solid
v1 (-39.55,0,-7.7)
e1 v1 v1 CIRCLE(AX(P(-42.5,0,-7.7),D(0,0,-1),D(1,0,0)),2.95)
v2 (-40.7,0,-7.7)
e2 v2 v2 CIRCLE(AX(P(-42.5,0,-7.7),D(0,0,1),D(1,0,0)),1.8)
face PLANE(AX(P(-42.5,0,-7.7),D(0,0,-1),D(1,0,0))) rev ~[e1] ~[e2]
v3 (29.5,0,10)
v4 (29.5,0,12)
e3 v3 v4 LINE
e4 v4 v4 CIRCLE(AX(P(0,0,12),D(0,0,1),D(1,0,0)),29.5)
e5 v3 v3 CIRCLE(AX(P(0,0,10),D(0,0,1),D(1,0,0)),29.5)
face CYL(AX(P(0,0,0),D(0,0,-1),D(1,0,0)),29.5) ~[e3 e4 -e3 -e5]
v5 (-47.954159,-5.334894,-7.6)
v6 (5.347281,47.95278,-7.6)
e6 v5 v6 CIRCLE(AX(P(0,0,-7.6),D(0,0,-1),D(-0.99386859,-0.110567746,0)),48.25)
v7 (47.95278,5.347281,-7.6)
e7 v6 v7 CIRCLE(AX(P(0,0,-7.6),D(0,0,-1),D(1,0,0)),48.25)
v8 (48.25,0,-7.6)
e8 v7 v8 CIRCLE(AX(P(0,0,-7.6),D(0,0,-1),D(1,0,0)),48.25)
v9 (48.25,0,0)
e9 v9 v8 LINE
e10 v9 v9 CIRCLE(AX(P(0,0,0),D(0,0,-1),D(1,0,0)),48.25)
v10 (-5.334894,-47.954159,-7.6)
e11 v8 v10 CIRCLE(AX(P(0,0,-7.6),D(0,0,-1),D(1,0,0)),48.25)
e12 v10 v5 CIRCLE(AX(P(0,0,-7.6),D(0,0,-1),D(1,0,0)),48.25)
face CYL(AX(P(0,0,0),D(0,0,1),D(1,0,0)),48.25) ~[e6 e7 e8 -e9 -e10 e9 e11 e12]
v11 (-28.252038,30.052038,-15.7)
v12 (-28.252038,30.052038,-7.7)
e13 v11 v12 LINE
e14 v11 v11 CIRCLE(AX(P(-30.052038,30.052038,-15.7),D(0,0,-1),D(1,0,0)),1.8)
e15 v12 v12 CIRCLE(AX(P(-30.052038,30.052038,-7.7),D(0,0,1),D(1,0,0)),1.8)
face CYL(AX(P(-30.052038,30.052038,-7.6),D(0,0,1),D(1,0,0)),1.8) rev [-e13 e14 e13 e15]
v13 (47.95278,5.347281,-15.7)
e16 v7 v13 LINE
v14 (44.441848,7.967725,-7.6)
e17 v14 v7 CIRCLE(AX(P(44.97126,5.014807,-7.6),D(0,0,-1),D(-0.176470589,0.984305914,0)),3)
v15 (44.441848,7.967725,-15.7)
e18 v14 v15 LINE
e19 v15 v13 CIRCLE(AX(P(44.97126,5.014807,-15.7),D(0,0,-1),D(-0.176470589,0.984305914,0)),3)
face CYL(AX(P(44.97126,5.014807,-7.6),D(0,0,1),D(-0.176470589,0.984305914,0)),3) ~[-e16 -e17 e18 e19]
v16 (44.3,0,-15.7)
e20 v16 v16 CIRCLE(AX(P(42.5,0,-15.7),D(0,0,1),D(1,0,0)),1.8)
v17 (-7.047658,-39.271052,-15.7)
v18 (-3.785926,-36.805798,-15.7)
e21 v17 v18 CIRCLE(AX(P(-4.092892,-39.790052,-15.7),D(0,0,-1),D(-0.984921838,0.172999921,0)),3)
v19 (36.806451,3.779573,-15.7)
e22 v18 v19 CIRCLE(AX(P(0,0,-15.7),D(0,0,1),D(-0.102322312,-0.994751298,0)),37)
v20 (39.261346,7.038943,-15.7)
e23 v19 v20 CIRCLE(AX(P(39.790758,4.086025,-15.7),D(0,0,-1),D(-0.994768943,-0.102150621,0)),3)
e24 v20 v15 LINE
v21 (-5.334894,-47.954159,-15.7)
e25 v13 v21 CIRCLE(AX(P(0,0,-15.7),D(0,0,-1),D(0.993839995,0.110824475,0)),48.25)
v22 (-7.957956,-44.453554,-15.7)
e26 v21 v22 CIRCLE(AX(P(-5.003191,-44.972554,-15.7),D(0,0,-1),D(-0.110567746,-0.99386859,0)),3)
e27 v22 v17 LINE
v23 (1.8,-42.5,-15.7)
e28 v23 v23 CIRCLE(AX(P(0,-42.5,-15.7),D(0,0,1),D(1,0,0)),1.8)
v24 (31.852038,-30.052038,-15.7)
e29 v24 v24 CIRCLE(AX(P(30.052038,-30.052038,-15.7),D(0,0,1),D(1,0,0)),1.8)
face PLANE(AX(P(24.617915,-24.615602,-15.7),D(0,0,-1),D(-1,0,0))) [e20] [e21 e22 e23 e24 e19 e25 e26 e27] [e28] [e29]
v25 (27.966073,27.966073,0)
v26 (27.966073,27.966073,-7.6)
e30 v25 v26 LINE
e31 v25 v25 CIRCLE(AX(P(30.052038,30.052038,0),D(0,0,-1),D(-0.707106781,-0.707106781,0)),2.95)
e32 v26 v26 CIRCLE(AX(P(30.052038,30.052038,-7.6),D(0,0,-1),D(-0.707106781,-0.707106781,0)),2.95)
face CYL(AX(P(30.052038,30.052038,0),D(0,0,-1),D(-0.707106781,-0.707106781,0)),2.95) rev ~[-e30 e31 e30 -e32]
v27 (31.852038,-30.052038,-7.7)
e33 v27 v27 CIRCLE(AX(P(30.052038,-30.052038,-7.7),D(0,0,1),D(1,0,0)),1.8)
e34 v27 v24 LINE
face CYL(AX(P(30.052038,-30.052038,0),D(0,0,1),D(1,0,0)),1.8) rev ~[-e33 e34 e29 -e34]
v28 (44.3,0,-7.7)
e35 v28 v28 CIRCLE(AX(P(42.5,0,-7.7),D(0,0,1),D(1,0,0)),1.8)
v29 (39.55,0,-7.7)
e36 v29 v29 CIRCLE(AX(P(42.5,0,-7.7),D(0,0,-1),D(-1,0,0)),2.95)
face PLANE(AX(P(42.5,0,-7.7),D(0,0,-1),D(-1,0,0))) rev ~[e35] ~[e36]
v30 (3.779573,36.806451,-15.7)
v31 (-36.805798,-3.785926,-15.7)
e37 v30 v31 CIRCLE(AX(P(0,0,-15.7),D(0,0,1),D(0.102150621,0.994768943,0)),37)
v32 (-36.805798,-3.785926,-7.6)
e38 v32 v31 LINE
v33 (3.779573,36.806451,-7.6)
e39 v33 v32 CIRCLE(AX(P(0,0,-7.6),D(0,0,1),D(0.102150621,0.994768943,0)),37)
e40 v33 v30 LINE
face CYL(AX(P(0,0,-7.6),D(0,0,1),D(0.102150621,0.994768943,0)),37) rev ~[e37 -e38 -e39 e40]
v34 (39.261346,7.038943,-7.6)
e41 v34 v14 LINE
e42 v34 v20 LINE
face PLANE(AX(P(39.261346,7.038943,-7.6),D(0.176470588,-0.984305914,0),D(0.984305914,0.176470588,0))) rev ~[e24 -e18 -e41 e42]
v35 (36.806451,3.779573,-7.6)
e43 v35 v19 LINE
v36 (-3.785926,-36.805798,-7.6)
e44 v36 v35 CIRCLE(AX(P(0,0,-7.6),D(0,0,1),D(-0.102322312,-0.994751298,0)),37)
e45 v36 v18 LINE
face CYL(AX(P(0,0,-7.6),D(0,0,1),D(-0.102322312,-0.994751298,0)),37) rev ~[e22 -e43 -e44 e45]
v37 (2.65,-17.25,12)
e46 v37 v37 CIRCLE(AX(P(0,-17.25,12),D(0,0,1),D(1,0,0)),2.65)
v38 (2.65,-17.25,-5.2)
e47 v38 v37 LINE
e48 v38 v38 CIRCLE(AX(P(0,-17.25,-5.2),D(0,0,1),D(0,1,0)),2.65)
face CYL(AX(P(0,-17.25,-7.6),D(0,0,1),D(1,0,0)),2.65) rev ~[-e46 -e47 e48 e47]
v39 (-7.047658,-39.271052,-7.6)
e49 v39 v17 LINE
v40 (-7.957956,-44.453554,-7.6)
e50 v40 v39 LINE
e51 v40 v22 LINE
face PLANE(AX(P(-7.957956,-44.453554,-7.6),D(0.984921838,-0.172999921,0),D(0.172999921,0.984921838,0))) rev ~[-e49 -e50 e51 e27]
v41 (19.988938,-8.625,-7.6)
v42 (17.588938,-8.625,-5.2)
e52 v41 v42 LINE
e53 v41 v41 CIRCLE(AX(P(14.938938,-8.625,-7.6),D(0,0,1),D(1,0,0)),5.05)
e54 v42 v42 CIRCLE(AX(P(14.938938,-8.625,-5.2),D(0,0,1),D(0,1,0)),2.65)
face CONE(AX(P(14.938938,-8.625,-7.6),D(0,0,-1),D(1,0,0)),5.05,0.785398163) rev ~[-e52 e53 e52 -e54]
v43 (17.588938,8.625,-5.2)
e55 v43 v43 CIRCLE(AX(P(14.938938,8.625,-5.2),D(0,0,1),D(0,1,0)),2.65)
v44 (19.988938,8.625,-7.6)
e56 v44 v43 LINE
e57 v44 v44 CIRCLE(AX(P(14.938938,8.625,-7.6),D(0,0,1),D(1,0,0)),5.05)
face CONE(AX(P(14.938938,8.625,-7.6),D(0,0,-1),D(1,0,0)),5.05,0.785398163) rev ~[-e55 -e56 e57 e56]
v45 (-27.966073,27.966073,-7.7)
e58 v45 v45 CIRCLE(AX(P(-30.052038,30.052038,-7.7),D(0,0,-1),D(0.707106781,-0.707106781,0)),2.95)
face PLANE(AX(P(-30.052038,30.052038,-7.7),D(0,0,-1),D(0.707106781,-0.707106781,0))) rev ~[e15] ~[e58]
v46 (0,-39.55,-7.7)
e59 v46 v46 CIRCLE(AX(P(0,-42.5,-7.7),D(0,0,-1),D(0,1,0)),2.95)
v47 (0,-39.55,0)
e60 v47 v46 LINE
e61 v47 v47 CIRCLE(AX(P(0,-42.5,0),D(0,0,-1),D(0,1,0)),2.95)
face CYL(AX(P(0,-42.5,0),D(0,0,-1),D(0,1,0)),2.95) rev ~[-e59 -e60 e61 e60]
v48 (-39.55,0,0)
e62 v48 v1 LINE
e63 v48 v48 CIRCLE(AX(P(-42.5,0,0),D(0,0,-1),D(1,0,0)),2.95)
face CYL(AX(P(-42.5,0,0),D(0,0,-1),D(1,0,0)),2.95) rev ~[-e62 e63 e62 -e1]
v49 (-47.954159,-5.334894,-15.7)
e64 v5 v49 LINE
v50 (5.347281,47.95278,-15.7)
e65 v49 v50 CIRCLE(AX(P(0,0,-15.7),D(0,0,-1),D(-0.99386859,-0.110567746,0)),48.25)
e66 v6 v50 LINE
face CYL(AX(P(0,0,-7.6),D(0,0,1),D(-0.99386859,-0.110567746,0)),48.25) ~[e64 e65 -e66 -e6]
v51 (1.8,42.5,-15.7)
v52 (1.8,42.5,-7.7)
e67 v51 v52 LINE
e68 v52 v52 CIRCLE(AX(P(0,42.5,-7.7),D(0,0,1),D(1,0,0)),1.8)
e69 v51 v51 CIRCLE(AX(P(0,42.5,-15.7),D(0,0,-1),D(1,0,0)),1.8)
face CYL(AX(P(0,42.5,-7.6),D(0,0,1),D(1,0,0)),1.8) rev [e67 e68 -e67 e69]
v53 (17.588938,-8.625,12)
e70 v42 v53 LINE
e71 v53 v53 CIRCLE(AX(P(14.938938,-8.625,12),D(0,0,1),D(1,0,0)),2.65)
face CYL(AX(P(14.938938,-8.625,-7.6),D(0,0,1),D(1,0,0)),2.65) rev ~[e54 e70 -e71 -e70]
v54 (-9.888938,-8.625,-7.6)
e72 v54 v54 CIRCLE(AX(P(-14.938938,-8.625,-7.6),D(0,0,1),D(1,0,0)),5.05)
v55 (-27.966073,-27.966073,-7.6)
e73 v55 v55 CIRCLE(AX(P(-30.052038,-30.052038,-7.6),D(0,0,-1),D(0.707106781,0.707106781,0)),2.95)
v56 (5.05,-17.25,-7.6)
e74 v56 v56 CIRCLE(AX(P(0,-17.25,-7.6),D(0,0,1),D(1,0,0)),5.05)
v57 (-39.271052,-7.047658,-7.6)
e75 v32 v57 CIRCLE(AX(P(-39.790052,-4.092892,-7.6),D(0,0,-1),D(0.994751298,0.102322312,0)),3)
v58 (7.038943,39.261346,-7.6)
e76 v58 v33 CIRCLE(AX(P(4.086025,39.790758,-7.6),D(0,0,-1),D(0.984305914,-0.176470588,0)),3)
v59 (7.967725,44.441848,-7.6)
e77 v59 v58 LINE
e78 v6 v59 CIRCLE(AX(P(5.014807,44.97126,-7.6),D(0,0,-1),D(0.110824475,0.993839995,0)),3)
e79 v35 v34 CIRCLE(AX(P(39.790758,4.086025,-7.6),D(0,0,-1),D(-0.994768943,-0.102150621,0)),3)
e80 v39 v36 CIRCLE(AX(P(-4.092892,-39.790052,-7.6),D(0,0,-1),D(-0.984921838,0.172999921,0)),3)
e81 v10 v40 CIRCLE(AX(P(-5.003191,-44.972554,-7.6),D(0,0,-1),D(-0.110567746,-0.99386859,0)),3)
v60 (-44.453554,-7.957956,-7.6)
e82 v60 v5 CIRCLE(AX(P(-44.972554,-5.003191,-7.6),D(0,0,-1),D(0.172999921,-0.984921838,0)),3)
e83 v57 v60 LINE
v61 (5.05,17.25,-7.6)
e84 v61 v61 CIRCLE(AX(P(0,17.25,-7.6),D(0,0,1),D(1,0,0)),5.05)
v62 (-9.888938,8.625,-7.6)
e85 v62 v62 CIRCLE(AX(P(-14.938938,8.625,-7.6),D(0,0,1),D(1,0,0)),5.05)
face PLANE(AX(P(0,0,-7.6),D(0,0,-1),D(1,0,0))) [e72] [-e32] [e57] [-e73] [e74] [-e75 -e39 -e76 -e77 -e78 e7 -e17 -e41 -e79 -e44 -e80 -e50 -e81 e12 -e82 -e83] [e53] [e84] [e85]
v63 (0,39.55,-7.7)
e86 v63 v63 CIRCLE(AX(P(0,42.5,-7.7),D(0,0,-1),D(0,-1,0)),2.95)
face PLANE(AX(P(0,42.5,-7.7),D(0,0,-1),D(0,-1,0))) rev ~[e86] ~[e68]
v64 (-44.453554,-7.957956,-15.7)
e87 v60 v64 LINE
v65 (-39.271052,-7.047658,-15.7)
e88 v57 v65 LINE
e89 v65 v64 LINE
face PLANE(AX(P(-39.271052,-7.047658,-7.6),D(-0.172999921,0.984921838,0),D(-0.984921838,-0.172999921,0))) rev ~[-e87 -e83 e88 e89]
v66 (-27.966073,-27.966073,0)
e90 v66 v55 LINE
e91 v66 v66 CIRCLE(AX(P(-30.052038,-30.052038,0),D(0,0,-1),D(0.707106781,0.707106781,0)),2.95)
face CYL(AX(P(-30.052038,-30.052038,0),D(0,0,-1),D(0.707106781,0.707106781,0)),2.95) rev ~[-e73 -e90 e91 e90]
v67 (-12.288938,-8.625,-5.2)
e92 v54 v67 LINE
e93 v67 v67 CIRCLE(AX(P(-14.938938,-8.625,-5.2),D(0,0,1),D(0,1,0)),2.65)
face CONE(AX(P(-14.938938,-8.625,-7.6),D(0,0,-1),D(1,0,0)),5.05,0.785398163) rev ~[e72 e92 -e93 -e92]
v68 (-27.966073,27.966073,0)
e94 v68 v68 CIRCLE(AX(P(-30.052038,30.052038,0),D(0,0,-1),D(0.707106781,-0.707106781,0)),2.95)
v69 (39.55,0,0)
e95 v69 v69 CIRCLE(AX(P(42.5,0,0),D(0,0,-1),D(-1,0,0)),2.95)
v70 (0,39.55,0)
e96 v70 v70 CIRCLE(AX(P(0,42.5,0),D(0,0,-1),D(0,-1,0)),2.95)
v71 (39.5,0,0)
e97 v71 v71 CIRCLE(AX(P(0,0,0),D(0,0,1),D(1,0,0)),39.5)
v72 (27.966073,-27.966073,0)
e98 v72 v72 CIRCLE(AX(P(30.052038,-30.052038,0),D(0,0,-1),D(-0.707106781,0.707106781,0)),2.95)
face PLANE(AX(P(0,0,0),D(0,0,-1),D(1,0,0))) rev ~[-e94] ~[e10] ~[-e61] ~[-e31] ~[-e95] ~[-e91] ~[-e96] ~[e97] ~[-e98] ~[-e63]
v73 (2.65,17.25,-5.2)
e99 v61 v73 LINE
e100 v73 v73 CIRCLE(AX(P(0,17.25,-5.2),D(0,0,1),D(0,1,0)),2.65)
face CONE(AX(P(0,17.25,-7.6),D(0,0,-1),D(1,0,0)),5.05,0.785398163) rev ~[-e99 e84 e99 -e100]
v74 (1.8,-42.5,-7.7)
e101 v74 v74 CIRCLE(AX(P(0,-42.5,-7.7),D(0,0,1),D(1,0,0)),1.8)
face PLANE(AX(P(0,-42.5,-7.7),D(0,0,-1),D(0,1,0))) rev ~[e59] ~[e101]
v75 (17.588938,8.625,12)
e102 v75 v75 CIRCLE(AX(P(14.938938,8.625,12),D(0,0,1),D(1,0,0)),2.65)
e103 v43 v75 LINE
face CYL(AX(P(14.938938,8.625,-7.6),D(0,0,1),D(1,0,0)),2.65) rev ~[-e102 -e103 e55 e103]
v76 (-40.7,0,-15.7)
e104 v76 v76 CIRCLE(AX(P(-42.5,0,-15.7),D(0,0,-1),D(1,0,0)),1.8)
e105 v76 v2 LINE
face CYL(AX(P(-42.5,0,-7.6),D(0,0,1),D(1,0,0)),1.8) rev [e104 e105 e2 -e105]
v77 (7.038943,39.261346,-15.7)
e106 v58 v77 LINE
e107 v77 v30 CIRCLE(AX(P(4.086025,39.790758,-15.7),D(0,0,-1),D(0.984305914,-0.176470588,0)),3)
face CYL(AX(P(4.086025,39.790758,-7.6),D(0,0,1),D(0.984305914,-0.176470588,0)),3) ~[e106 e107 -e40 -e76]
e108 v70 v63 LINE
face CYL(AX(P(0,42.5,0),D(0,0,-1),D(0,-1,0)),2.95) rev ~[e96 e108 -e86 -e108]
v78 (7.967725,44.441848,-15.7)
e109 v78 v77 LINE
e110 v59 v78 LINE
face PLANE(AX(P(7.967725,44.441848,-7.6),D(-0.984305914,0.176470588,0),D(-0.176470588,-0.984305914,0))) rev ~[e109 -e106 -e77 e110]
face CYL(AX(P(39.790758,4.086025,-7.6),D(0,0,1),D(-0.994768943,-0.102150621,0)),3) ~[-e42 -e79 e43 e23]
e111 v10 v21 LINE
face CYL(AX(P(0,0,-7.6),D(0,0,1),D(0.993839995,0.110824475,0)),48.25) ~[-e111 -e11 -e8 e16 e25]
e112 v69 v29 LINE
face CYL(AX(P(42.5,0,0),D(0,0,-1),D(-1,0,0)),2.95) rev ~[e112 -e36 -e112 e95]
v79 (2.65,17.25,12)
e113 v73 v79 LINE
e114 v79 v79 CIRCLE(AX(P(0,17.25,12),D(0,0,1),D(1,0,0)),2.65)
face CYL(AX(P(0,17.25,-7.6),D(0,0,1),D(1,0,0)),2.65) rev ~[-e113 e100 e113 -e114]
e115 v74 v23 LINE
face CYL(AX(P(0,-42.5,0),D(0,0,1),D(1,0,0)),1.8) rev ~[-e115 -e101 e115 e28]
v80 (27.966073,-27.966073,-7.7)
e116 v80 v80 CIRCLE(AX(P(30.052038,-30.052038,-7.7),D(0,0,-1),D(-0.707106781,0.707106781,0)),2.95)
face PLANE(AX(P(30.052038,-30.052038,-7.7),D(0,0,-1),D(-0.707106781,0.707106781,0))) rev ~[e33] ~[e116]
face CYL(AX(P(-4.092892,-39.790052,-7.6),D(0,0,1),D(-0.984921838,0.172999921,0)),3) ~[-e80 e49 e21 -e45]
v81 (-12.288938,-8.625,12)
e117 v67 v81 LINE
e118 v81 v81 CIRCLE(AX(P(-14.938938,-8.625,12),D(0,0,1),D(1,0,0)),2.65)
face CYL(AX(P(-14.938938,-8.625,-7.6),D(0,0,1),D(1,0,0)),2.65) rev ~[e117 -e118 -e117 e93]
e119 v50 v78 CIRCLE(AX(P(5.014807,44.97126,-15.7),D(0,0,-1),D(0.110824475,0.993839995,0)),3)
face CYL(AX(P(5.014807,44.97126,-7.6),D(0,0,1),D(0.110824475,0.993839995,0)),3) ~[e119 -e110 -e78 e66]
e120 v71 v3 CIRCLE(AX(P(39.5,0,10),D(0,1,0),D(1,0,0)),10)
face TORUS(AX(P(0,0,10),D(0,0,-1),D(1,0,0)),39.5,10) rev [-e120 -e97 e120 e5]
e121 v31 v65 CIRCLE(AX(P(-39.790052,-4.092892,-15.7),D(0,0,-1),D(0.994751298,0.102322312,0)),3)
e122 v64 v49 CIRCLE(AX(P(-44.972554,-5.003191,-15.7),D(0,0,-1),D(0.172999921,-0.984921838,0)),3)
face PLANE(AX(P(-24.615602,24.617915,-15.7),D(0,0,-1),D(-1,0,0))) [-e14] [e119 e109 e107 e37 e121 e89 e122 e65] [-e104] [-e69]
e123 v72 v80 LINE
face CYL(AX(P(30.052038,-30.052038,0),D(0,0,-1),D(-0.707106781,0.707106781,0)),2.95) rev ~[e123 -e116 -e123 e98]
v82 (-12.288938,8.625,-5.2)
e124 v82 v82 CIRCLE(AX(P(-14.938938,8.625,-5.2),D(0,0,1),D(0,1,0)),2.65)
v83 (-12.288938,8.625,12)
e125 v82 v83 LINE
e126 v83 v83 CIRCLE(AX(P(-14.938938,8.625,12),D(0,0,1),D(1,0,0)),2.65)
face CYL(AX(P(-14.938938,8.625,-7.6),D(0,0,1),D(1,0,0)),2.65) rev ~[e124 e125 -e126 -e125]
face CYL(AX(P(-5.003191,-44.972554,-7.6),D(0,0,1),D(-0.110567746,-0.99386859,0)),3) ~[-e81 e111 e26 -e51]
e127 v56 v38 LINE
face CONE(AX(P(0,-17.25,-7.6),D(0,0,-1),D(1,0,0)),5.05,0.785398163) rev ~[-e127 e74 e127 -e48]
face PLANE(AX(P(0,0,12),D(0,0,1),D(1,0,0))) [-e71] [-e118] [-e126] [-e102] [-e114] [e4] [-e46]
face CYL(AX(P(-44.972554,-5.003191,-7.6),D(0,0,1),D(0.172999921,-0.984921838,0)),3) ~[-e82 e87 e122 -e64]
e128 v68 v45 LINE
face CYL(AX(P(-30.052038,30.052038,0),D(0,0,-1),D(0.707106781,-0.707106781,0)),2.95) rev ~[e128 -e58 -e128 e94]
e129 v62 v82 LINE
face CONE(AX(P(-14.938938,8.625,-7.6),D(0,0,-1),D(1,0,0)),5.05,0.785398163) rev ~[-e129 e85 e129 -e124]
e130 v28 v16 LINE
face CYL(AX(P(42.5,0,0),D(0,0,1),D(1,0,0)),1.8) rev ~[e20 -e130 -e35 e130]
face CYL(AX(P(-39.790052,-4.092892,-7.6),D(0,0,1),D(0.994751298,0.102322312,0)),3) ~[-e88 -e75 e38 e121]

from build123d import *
from build123d.topology import SkipClean

# Parameters (mm, degrees)
SKETCH_1_R                     = 29.5
SKETCH_1_R_2                   = 1.65
EXTRUDE_1_DEPTH                = 12
SKETCH_3_R                     = 48.25
SKETCH_3_R_2                   = 27
SKETCH_3_R_3                   = 1.8
EXTRUDE_2_DEPTH                = 7.6
EXTRUDE_START                  = 7.6
SKETCH_4_R                     = 31.688827667
SKETCH_4_R_2                   = 1.65
EXTRUDE_3_DEPTH                = 7.6
HOLE_WIZARD_M4_5_1_D           = 5.3
HOLE_WIZARD_M4_5_1_DEPTH       = 100
HOLE_WIZARD_M4_5_1_CSINK_D     = 10.1
HOLE_WIZARD_M4_5_1_CSINK_ANGLE = 90
HOLE_WIZARD_M4_5_1_TIP         = 1.59228064
SKETCH_7_R                     = 1.8
EXTRUDE_4_DEPTH                = 8.1
SKETCH_10_R                    = 1.8
CUT_EXTRUDE_1_DEPTH            = 82
FILLET_1_R                     = 10
PATTERN_CIRCULAR_1_COUNT       = 8


with BuildPart() as part:
    # 草图1 → 凸台-拉伸1 (new body)
    with BuildSketch(Plane.XY):
        Circle(SKETCH_1_R)
        with Locations((0, 17.25)):
            Circle(SKETCH_1_R_2, mode=Mode.SUBTRACT)
        with Locations((14.938938215, 8.625)):
            Circle(SKETCH_1_R_2, mode=Mode.SUBTRACT)
        with Locations((14.938938215, -8.625)):
            Circle(SKETCH_1_R_2, mode=Mode.SUBTRACT)
        with Locations((0, -17.25)):
            Circle(SKETCH_1_R_2, mode=Mode.SUBTRACT)
        with Locations((-14.938938215, -8.625)):
            Circle(SKETCH_1_R_2, mode=Mode.SUBTRACT)
        with Locations((-14.938938215, 8.625)):
            Circle(SKETCH_1_R_2, mode=Mode.SUBTRACT)
    extrude(amount=EXTRUDE_1_DEPTH)



with BuildPart() as body_2:
    # 草图3 → 凸台-拉伸2 (new body)
    with BuildSketch(Plane(origin=(0, 0, 0), x_dir=(-1, 0, 0), z_dir=(0, 0, -1))):
        with Locations(Location((0, 0, 0), (0, 0, 180))):
            Circle(SKETCH_3_R)
        with Locations(Location((0, 0, 0), (0, 0, 180))):
            Circle(SKETCH_3_R_2, mode=Mode.SUBTRACT)
        with Locations(Location((30.0520382, 30.0520382, 0), (0, 0, 180))):
            Circle(SKETCH_3_R_3, mode=Mode.SUBTRACT)
        with Locations(Location((42.5, 0, 0), (0, 0, 180))):
            Circle(SKETCH_3_R_3, mode=Mode.SUBTRACT)
        with Locations(Location((30.0520382, -30.0520382, 0), (0, 0, 180))):
            Circle(SKETCH_3_R_3, mode=Mode.SUBTRACT)
        with Locations(Location((0, -42.5, 0), (0, 0, 180))):
            Circle(SKETCH_3_R_3, mode=Mode.SUBTRACT)
        with Locations(Location((0, 42.5, 0), (0, 0, 180))):
            Circle(SKETCH_3_R_3, mode=Mode.SUBTRACT)
        with Locations(Location((-30.0520382, -30.0520382, 0), (0, 0, 180))):
            Circle(SKETCH_3_R_3, mode=Mode.SUBTRACT)
        with Locations(Location((-42.5, 0, 0), (0, 0, 180))):
            Circle(SKETCH_3_R_3, mode=Mode.SUBTRACT)
        with Locations(Location((-30.0520382, 30.0520382, 0), (0, 0, 180))):
            Circle(SKETCH_3_R_3, mode=Mode.SUBTRACT)
    extrude(amount=EXTRUDE_2_DEPTH)


with BuildPart() as part_1:
    with SkipClean():  # the faces are left unmerged after this step: merging them gives an invalid solid
        add(part.part)

        add(body_2.part)  # 凸台-拉伸3 merges body 2
        # 草图4 → 凸台-拉伸3 (add)
        with BuildSketch(Plane(origin=(0, 0, 0), x_dir=(-1, 0, 0), z_dir=(0, 0, -1)).offset(EXTRUDE_START)):
            Circle(SKETCH_4_R)
            with Locations((0, 17.25)):
                Circle(SKETCH_4_R_2, mode=Mode.SUBTRACT)
            with Locations((14.938938215, 8.625)):
                Circle(SKETCH_4_R_2, mode=Mode.SUBTRACT)
            with Locations((14.938938215, -8.625)):
                Circle(SKETCH_4_R_2, mode=Mode.SUBTRACT)
            with Locations((0, -17.25)):
                Circle(SKETCH_4_R_2, mode=Mode.SUBTRACT)
            with Locations((-14.938938215, -8.625)):
                Circle(SKETCH_4_R_2, mode=Mode.SUBTRACT)
            with Locations((-14.938938215, 8.625)):
                Circle(SKETCH_4_R_2, mode=Mode.SUBTRACT)
        extrude(amount=-EXTRUDE_3_DEPTH)

    # M4.5 开槽半沉头木螺钉的锥形沉头孔1
    with Locations(Plane(origin=(0, 0, -7.6), x_dir=(-1, 0, 0), z_dir=(0, 0, -1))):
        with Locations((0, 17.25), (-14.938938215, 8.625), (-14.938938215, -8.625), (0, -17.25), (14.938938215, -8.625), (14.938938215, 8.625)):
            CounterSinkHole(HOLE_WIZARD_M4_5_1_D / 2, HOLE_WIZARD_M4_5_1_CSINK_D / 2, depth=HOLE_WIZARD_M4_5_1_DEPTH, counter_sink_angle=HOLE_WIZARD_M4_5_1_CSINK_ANGLE)
            with Locations((0, 0, -(HOLE_WIZARD_M4_5_1_DEPTH + HOLE_WIZARD_M4_5_1_TIP / 2))):  # 118° drill point
                Cone(0, HOLE_WIZARD_M4_5_1_D / 2, HOLE_WIZARD_M4_5_1_TIP, mode=Mode.SUBTRACT)

    # 草图7 → 凸台-拉伸4 (add)
    # profile 1 of 2: a face of its own
    with BuildSketch(Plane(origin=(0, 0, -7.6), x_dir=(-1, 0, 0), z_dir=(0, 0, -1))):
        with BuildLine():
            Line((-7.967725229, 44.441848011), (-7.038942591, 39.261345968))
            ThreePointArc((-7.038942591, 39.261345968), (-5.890899598, 37.39442154), (-3.779572987, 36.806450902))
            ThreePointArc((-3.779572987, 36.806450902), (26.165208609, 26.160693004), (36.805798017, -3.785925554))
            ThreePointArc((36.805798017, -3.785925554), (37.396744327, -5.901781323), (39.271052148, -7.047658005))
            Line((39.271052148, -7.047658005), (44.45355392, -7.957956022))
            ThreePointArc((44.45355392, -7.957956022), (46.771503658, -7.403977667), (47.954159452, -5.334893745))
            ThreePointArc((47.954159452, -5.334893745), (34.113495301, 34.122308515), (-5.347280913, 47.952779761))
            ThreePointArc((-5.347280913, 47.952779761), (-7.418993258, 46.765665189), (-7.967725229, 44.441848011))
        make_face()
        with Locations(Location((42.5, 0, 0), (0, 0, 180))):
            Circle(SKETCH_7_R, mode=Mode.SUBTRACT)
        with Locations(Location((0, 42.5, 0), (0, 0, 180))):
            Circle(SKETCH_7_R, mode=Mode.SUBTRACT)
        with Locations(Location((30.0520382, 30.0520382, 0), (0, 0, 180))):
            Circle(SKETCH_7_R, mode=Mode.SUBTRACT)
    # profile 2 of 2: a face of its own
    with BuildSketch(Plane(origin=(0, 0, -7.6), x_dir=(-1, 0, 0), z_dir=(0, 0, -1))):
        with BuildLine():
            Line((7.957956022, -44.45355392), (7.047658005, -39.271052148))
            ThreePointArc((7.047658005, -39.271052148), (5.901781323, -37.396744327), (3.785925554, -36.805798017))
            ThreePointArc((3.785925554, -36.805798017), (-26.160693004, -26.165208609), (-36.806450902, 3.779572987))
            ThreePointArc((-36.806450902, 3.779572987), (-37.39442154, 5.890899598), (-39.261345968, 7.038942591))
            Line((-39.261345968, 7.038942591), (-44.441848011, 7.967725229))
            ThreePointArc((-44.441848011, 7.967725229), (-46.765665189, 7.418993258), (-47.952779761, 5.347280913))
            ThreePointArc((-47.952779761, 5.347280913), (-34.122308515, -34.113495301), (5.334893745, -47.954159452))
            ThreePointArc((5.334893745, -47.954159452), (7.403977667, -46.771503658), (7.957956022, -44.45355392))
        make_face()
    extrude(amount=EXTRUDE_4_DEPTH)

    # 草图8 → 切除-旋转1 (revolve, cut)
    with BuildSketch(Plane(origin=(-20.476470588, -21.235916562, 0), x_dir=(0, 0, 1), z_dir=(-0.6941176470588265, -0.7198615783895669, 0)), mode=Mode.PRIVATE) as cut_revolve_1_sk:
        Polygon((-7.7, 30.594117082), (0, 30.594117082), (0, 32.394117082), (0, 33.544117082), (-7.7, 33.544117082), align=None)
    cut_revolve_1 = revolve(cut_revolve_1_sk.sketch.rotate(Axis((-42.5, 0, 0), (0, 0, -1)), 136.043053276), axis=Axis((-42.5, 0, 0), (0, 0, -1)), mode=Mode.SUBTRACT)

    # 草图10 → 切除-拉伸1 (cut)
    with BuildSketch(Plane.XY):
        with Locations((-30.0520382, 30.0520382)):
            Circle(SKETCH_10_R)
        with Locations((42.5, 0)):
            Circle(SKETCH_10_R)
        with Locations((30.0520382, -30.0520382)):
            Circle(SKETCH_10_R)
        with Locations((0, -42.5)):
            Circle(SKETCH_10_R)
        with Locations((30.0520382, 30.0520382)):
            Circle(SKETCH_10_R)
        with Locations((0, 42.5)):
            Circle(SKETCH_10_R)
    extrude(amount=-CUT_EXTRUDE_1_DEPTH, mode=Mode.SUBTRACT)

    # 圆角1
    fillet_1_edges = [part_1.edges().sort_by_distance(p)[0] for p in [
        (-29.5, 0, 0),
    ]]
    fillet(fillet_1_edges, radius=FILLET_1_R)

    # 阵列(圆周)1: 切除-旋转1 ×8 about axis
    pattern_circular_1_axis = Axis((0, 0, 0), (0, 0, 1))
    for i in range(1, PATTERN_CIRCULAR_1_COUNT):
        add(cut_revolve_1.rotate(pattern_circular_1_axis, i * 360 / PATTERN_CIRCULAR_1_COUNT), mode=Mode.SUBTRACT)


solid = part_1.part
